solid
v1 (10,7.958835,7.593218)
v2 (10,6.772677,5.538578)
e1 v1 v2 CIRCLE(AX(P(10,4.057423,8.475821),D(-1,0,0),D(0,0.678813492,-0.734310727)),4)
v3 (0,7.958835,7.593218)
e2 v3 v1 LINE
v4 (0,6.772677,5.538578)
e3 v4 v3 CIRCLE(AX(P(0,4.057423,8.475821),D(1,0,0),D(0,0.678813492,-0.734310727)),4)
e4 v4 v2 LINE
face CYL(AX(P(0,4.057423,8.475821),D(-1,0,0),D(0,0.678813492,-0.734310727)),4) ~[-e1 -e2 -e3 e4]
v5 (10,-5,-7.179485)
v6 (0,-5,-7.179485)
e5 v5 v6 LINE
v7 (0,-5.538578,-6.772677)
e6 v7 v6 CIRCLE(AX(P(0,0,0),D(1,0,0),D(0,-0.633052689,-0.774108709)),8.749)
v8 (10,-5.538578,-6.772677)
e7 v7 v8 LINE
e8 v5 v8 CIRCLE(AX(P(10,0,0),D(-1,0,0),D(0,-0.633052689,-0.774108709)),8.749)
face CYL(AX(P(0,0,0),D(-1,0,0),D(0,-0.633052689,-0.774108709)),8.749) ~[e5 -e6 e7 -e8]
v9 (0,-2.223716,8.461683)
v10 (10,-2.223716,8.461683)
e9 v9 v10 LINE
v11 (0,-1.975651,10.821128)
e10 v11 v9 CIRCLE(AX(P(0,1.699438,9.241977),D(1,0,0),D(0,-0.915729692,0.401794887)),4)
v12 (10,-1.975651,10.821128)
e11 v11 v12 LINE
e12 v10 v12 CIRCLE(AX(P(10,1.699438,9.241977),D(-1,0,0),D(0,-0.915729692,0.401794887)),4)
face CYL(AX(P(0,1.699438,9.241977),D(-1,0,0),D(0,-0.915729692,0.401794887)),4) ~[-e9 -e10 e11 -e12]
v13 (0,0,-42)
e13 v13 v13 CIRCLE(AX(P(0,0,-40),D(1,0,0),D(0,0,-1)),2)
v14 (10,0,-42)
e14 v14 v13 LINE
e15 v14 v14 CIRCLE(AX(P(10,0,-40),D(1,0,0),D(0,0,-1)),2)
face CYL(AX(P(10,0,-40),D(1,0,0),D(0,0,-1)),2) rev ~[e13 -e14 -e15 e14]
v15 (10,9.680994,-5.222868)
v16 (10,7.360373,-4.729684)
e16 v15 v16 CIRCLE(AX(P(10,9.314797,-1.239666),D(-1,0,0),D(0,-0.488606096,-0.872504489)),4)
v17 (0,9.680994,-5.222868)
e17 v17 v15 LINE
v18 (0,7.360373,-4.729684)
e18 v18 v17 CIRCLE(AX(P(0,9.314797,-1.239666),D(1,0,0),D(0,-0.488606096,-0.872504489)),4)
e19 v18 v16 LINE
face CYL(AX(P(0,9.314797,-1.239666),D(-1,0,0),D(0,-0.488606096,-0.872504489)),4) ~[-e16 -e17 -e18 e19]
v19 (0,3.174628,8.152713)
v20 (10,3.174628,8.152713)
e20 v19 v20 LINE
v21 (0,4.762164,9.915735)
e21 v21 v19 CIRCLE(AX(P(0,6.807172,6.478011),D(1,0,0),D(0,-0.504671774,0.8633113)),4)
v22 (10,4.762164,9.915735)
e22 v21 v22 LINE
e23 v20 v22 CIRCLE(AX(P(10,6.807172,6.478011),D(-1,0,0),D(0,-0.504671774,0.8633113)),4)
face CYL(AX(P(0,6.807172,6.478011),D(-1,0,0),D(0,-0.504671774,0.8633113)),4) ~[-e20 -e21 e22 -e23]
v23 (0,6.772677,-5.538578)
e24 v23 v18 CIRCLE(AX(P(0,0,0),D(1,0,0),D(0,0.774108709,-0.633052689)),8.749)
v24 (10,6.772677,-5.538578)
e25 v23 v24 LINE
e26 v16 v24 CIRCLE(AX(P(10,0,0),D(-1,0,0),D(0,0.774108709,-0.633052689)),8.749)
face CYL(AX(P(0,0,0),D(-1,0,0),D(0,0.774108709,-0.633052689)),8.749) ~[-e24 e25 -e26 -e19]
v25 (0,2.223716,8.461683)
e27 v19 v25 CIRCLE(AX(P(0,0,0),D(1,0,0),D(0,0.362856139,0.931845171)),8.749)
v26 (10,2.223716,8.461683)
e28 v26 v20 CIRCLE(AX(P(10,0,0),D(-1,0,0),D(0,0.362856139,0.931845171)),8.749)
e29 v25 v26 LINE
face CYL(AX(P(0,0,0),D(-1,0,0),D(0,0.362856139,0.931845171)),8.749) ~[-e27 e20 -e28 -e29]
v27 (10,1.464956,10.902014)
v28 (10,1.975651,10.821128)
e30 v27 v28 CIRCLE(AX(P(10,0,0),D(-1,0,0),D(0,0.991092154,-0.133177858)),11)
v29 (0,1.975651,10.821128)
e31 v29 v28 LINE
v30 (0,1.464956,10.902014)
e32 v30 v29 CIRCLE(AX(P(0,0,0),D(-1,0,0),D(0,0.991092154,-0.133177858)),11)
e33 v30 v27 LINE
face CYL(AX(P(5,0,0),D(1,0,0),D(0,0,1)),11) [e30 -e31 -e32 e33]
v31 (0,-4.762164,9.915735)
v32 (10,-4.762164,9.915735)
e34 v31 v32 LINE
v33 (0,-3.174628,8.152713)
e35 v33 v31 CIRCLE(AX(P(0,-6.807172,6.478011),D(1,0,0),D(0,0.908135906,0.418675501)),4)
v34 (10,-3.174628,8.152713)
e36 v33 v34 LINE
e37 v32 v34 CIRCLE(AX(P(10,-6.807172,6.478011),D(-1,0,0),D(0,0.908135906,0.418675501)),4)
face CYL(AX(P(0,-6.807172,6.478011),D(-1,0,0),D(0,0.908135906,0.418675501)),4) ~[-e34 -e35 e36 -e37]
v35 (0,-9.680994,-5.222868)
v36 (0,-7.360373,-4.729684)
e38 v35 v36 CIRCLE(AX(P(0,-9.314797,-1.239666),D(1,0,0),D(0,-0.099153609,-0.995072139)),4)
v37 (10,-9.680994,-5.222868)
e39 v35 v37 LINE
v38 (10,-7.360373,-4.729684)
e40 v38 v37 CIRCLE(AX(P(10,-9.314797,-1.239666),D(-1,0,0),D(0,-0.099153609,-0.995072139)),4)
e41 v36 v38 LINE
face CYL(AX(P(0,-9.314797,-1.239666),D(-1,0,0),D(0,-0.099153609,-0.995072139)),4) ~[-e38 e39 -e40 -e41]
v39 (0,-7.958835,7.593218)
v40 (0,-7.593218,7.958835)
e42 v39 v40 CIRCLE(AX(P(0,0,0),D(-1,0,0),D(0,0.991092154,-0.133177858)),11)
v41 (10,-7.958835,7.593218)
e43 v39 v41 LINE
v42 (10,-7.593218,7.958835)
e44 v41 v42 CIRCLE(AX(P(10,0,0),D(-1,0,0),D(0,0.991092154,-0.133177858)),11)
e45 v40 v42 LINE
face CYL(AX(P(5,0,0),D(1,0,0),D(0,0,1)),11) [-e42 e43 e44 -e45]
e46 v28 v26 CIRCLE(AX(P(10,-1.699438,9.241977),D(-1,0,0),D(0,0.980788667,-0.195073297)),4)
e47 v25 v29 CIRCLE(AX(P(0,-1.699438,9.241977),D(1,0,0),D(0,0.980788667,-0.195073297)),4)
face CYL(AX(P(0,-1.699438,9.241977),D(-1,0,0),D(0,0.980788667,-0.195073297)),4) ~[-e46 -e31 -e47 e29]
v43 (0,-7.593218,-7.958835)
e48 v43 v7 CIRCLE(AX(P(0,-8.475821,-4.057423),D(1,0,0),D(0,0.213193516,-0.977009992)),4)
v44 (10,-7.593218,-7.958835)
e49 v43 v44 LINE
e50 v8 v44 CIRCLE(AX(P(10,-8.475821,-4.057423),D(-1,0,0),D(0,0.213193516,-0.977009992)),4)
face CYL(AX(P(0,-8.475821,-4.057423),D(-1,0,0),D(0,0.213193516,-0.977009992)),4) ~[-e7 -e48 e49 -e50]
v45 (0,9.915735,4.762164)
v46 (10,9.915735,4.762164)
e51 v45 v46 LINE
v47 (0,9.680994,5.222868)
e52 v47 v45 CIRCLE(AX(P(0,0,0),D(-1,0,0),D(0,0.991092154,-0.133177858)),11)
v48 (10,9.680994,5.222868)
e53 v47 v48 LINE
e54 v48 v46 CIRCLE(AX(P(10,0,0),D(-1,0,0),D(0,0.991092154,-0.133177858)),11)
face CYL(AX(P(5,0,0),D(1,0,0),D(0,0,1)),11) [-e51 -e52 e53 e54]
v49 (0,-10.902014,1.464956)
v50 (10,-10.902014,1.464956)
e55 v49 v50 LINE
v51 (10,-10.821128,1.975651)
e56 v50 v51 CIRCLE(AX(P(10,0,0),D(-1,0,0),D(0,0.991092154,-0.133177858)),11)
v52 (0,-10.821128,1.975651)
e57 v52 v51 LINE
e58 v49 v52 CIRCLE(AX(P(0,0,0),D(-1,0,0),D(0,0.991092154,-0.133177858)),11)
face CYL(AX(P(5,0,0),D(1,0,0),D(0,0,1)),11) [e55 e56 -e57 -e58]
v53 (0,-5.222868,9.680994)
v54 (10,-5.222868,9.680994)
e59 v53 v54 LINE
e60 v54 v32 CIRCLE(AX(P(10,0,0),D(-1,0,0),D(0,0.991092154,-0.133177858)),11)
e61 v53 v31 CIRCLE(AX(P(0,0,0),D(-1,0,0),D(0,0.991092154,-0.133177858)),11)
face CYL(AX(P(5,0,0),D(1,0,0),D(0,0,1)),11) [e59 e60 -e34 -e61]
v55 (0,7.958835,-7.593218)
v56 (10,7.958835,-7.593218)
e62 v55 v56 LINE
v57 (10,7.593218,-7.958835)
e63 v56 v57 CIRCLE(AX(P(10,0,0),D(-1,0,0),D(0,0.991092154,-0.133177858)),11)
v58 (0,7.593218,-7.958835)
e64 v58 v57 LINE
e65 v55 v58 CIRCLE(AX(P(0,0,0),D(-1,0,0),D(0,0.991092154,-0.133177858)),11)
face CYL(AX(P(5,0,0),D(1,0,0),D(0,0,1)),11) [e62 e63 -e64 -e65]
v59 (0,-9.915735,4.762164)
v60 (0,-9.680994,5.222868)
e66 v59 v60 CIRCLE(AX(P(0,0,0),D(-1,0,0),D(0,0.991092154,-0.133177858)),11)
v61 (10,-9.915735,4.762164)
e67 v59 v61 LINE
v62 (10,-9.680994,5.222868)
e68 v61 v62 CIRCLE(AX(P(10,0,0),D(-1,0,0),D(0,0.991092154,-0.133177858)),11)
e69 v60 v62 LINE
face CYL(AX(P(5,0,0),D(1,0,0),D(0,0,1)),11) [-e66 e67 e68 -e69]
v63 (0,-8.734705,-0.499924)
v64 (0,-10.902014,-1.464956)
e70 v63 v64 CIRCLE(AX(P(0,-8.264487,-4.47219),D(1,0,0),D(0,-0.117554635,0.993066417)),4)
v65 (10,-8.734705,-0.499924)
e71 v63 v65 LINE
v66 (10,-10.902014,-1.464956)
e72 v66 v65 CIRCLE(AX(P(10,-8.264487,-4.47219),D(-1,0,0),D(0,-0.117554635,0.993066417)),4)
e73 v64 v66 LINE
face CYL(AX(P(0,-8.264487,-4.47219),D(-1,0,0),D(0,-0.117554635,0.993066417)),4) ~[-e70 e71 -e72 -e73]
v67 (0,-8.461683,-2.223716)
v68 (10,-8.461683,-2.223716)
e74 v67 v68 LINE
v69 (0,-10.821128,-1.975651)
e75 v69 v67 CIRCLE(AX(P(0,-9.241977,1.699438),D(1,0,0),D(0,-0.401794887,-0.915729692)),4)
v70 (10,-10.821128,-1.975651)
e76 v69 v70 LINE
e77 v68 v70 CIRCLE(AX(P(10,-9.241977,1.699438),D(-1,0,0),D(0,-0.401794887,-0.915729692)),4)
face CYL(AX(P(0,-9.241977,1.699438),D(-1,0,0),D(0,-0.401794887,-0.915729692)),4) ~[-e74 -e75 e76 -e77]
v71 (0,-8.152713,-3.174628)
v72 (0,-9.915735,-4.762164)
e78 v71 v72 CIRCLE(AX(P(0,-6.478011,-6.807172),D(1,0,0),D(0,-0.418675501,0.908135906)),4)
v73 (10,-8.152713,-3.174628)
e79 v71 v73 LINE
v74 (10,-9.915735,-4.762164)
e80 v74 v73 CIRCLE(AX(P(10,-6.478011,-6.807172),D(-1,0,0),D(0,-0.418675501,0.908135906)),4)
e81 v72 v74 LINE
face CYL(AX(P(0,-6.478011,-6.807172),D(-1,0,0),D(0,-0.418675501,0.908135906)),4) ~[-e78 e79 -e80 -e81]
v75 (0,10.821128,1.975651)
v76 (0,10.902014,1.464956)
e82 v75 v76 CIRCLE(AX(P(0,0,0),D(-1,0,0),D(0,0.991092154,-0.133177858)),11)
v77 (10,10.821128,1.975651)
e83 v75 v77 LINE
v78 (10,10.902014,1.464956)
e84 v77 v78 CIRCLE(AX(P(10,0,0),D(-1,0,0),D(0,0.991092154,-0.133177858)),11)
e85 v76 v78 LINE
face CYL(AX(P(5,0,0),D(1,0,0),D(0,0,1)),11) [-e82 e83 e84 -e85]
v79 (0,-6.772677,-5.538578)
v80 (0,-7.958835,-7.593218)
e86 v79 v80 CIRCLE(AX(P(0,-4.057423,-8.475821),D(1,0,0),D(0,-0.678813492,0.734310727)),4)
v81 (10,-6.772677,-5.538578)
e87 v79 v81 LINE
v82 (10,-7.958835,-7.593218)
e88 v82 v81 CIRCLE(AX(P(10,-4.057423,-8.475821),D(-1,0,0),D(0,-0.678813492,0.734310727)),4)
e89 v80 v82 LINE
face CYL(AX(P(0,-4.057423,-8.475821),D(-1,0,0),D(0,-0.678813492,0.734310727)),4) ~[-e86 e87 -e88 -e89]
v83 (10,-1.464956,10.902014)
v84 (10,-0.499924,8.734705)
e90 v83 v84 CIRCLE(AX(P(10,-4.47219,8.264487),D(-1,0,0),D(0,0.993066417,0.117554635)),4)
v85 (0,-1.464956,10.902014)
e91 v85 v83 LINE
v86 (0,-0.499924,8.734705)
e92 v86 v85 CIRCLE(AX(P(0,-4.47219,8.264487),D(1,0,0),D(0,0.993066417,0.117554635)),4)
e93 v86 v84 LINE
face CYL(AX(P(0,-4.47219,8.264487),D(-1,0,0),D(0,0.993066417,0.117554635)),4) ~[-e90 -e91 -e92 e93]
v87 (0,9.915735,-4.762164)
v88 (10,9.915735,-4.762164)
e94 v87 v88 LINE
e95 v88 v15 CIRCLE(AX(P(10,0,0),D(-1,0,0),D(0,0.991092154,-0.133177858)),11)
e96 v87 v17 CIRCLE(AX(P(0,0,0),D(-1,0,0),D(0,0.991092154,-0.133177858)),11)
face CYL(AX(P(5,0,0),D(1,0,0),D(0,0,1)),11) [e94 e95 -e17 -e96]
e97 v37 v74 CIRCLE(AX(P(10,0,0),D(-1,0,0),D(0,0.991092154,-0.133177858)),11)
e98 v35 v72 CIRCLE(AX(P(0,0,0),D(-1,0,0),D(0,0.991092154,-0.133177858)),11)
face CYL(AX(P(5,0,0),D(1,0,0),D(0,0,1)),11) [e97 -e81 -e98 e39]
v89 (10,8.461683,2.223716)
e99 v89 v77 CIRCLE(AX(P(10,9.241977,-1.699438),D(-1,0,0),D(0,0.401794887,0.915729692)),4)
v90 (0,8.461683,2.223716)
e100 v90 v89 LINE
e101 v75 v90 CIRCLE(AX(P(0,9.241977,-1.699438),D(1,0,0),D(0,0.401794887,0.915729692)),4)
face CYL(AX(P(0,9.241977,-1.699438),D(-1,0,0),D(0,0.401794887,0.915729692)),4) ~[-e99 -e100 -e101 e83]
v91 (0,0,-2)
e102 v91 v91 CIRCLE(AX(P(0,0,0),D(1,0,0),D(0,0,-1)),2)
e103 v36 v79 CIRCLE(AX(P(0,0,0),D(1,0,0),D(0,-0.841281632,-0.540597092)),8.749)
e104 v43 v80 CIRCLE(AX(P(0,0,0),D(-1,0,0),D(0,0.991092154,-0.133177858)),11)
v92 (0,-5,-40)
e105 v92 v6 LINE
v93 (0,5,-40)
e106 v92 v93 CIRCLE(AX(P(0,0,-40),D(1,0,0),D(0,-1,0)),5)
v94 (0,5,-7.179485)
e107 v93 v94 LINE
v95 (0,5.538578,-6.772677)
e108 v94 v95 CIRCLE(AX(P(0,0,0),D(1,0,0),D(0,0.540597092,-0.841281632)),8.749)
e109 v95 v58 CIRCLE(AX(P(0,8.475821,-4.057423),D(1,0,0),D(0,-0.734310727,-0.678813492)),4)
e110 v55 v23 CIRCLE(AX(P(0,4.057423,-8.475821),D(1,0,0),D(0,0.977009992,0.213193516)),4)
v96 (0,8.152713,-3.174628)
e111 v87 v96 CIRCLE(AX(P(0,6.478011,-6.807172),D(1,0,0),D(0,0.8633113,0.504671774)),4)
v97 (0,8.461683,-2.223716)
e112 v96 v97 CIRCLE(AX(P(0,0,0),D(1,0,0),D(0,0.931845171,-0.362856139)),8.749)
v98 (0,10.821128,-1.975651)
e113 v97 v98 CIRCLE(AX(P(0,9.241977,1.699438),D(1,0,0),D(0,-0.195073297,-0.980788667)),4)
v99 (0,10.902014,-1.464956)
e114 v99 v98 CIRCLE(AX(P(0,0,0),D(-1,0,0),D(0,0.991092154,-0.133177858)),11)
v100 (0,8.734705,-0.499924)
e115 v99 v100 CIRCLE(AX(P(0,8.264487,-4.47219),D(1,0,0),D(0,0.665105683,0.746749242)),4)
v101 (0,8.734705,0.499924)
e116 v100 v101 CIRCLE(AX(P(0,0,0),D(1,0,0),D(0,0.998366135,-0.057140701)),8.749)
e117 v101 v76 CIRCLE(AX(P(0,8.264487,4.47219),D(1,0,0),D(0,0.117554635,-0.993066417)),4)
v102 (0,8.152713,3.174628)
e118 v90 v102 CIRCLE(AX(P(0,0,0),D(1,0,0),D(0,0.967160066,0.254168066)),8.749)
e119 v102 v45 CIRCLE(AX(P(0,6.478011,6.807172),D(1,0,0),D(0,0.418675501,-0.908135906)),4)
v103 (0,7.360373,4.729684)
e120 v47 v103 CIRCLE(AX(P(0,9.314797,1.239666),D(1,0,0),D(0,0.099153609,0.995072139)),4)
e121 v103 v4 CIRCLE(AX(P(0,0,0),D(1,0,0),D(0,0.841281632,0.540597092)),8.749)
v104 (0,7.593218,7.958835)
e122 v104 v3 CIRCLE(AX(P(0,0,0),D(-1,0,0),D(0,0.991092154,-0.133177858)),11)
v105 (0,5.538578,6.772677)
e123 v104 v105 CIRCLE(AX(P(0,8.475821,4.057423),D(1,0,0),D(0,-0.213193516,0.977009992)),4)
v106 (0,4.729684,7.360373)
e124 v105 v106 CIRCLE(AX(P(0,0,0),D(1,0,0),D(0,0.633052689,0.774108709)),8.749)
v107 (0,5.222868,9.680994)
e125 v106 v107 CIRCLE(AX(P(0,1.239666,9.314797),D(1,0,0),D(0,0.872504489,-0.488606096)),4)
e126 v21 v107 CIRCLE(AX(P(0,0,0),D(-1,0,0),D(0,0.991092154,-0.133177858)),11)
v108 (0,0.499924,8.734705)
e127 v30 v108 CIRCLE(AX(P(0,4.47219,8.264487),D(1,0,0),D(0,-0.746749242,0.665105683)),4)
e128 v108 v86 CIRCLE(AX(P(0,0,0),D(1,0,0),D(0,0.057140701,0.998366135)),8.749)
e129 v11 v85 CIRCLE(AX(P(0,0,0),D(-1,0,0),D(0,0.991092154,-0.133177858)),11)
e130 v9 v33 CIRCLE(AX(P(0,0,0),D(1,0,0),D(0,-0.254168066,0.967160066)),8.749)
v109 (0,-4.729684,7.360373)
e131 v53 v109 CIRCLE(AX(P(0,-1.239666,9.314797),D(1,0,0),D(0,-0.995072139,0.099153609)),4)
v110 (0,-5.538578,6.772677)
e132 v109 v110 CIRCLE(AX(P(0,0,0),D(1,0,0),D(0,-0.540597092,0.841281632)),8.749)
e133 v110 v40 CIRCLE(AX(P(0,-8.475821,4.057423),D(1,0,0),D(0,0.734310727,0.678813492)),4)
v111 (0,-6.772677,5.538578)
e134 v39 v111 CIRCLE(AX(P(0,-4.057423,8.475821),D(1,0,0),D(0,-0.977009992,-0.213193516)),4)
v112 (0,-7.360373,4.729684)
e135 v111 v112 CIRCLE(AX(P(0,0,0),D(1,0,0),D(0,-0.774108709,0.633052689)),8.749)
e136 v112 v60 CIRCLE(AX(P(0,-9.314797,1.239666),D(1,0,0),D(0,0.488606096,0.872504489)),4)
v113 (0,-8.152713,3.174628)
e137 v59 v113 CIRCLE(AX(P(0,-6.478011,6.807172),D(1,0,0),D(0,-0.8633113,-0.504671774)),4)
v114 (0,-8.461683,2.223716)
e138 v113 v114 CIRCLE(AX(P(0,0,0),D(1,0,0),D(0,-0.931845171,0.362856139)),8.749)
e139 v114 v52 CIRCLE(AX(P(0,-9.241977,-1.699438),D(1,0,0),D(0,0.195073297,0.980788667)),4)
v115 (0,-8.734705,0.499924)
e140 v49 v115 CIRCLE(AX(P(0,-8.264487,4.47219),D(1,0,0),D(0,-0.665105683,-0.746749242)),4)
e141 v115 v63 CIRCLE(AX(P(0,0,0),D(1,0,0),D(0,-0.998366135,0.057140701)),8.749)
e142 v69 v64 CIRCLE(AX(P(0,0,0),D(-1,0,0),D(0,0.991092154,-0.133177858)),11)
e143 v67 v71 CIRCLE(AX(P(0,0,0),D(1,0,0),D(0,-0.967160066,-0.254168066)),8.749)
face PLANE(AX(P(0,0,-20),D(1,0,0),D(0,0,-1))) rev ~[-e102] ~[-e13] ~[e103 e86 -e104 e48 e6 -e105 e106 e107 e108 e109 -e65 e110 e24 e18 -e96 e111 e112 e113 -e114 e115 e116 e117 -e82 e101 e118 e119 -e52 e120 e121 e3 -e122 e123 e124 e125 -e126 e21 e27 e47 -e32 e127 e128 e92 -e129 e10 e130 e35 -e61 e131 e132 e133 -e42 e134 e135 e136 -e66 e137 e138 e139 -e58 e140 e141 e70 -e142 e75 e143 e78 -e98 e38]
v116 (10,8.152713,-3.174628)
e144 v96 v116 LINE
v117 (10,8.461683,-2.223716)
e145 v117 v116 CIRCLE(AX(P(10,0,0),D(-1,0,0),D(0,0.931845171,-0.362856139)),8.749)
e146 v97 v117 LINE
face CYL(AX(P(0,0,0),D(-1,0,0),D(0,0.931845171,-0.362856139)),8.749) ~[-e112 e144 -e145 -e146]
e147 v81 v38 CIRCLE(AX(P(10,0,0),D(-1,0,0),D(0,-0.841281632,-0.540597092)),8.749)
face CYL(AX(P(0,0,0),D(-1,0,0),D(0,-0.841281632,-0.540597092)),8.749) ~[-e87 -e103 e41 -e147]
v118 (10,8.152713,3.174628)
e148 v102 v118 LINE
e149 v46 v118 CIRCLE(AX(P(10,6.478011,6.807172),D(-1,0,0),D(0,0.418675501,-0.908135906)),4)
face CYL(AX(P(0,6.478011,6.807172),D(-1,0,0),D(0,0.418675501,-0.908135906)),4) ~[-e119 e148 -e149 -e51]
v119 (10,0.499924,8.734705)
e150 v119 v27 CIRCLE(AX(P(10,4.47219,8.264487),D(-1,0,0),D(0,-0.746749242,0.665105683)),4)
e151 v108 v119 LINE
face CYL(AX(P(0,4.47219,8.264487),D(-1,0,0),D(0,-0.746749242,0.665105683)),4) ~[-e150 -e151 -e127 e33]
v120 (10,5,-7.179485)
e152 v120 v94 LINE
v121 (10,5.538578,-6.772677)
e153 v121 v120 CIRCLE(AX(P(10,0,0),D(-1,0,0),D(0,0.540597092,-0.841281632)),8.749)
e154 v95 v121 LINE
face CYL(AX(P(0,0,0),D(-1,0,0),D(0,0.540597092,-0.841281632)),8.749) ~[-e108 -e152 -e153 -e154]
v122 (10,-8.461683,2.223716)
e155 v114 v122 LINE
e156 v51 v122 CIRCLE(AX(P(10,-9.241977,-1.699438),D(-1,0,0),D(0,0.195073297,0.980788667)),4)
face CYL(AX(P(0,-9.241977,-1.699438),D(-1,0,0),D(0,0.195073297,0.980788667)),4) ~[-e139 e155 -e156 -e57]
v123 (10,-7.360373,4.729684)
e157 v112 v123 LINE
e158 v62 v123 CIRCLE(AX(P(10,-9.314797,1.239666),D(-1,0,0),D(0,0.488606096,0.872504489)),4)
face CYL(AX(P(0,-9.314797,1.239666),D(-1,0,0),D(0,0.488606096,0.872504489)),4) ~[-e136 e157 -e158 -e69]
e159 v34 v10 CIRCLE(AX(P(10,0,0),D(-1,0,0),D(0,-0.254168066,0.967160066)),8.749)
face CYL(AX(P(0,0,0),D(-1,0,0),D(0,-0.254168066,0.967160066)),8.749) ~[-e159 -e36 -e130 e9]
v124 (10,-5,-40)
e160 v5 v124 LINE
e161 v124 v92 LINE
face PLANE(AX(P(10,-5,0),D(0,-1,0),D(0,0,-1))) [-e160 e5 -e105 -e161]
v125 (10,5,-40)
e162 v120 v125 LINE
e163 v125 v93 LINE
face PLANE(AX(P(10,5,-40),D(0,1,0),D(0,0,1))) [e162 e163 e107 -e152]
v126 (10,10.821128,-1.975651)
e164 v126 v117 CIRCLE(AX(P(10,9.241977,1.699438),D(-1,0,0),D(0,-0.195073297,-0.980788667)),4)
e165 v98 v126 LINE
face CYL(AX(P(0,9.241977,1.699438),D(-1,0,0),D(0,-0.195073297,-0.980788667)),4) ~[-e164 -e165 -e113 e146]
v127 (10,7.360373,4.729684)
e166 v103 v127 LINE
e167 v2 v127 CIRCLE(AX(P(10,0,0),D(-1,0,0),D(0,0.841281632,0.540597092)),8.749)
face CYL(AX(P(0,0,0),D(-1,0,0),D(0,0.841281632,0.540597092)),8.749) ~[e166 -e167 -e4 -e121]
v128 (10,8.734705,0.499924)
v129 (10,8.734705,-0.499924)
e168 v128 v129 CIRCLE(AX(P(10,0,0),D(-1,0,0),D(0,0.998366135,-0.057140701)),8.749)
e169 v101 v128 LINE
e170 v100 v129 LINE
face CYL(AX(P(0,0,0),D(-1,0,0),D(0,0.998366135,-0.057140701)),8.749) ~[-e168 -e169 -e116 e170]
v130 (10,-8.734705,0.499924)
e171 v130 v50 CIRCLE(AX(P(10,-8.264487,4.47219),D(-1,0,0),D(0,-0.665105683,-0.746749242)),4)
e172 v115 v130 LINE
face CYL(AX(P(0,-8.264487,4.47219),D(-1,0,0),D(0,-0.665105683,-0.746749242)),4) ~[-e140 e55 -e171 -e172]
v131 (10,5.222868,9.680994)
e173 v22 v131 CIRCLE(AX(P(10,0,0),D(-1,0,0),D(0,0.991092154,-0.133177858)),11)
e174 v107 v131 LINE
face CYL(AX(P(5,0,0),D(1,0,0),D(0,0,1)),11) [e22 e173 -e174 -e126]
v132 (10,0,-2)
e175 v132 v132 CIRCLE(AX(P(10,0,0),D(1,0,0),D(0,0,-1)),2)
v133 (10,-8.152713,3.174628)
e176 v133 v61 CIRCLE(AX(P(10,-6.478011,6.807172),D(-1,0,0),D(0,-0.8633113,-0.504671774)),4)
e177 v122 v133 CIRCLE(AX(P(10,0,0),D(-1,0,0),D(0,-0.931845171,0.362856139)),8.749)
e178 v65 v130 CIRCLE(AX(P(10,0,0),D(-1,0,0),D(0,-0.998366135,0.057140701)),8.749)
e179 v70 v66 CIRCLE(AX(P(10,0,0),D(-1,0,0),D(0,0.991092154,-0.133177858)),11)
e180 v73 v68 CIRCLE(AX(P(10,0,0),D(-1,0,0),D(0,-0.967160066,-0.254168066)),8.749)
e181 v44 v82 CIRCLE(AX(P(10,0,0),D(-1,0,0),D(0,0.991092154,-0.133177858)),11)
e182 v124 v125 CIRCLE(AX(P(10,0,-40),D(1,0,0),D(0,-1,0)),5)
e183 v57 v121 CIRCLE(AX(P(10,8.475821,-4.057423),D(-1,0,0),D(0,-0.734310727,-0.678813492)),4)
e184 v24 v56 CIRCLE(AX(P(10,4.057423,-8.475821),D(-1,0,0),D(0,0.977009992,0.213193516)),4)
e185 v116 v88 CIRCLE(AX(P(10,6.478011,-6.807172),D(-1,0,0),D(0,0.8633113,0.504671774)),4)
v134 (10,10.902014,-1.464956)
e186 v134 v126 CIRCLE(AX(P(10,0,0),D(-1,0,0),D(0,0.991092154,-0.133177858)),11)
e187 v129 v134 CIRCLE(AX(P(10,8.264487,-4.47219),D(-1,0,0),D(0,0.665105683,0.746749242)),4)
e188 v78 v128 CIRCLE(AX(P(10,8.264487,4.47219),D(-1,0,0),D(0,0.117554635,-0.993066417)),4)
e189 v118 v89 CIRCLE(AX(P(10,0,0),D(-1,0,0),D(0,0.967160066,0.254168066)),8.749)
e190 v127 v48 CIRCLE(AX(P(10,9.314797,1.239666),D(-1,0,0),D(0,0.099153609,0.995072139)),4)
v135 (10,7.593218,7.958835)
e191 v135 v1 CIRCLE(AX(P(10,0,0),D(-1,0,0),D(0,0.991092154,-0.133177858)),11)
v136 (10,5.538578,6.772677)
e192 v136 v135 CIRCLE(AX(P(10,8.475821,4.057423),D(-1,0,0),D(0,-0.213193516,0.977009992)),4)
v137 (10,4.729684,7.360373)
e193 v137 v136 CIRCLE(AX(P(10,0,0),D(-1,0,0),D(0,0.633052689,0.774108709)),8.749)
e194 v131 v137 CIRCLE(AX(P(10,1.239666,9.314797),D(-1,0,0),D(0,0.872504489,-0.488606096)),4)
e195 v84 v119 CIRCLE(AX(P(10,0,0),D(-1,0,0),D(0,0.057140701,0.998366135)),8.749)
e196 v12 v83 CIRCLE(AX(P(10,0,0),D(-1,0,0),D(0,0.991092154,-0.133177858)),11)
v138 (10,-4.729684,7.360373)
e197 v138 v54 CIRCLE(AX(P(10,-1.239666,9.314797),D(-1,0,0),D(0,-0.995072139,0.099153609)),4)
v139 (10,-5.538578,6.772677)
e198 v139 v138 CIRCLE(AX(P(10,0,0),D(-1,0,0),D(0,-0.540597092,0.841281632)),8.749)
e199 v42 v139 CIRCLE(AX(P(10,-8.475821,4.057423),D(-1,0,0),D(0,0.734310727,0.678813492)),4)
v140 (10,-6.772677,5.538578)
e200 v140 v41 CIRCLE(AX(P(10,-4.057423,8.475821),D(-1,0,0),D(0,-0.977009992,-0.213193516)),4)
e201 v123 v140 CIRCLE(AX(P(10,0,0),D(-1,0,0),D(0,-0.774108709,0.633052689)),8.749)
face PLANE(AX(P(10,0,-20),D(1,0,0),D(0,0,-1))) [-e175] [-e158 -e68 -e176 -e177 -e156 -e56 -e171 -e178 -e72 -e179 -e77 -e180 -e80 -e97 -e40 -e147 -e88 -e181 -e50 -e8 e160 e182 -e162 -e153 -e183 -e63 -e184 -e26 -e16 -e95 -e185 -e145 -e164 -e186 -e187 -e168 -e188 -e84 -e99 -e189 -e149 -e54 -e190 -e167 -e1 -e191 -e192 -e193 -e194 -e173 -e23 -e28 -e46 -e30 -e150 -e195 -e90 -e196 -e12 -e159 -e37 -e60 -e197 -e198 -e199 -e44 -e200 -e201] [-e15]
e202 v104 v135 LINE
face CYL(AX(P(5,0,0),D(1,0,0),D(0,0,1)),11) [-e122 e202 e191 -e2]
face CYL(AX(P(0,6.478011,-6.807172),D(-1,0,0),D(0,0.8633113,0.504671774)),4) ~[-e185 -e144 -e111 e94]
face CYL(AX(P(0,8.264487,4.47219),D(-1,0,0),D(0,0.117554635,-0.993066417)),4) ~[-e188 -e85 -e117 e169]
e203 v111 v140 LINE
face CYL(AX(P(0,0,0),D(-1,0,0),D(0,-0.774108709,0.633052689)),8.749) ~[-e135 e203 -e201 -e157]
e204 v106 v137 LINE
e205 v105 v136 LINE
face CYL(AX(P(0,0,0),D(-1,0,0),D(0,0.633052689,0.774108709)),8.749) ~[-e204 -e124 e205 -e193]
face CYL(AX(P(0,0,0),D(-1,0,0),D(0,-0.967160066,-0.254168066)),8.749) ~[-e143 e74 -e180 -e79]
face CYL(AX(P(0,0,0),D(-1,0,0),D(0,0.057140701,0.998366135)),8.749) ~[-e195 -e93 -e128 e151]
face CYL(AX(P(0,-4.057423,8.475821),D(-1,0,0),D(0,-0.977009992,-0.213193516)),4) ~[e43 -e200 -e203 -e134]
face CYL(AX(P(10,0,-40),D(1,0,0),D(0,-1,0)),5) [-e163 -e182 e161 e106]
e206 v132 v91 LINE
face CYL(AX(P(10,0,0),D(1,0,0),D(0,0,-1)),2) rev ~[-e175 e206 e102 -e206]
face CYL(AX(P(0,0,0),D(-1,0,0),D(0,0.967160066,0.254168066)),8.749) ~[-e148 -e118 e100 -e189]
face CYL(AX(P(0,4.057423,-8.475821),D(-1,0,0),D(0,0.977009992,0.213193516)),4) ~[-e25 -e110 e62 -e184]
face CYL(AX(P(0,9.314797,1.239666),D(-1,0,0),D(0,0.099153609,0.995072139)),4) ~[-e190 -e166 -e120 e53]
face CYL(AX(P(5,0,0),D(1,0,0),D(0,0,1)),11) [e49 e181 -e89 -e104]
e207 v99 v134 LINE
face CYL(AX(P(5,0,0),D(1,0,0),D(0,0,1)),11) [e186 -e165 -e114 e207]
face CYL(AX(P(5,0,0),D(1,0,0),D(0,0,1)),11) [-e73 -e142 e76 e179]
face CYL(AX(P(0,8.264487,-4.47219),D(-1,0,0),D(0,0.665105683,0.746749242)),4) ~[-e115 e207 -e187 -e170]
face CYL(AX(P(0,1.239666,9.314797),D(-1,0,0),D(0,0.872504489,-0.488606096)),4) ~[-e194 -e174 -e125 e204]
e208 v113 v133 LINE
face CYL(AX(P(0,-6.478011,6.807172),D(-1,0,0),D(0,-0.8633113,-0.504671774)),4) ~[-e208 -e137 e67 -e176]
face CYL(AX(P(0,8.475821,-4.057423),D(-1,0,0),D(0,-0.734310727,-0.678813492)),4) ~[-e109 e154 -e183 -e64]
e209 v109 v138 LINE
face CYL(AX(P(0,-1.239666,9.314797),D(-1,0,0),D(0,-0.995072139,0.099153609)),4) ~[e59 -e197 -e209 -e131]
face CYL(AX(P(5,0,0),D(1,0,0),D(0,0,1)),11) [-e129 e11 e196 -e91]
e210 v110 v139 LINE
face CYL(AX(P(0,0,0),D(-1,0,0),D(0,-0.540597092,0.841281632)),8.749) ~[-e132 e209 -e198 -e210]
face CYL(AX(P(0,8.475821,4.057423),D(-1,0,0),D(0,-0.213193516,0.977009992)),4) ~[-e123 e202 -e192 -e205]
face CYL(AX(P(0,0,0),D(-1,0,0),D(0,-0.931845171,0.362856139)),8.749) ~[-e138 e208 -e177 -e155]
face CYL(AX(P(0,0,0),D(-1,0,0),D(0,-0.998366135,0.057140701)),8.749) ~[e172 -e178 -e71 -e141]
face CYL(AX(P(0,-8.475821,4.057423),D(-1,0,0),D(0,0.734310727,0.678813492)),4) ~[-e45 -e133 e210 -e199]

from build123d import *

# Parameters (mm, degrees)
BASPROSKE_W             = 10
BASPROSKE_H             = 11
TOOTHCUT_DEPTH          = 19.493242009
TEETHCUTS_COUNT         = 20
TEETHCUTS_ANGLE         = 342
BORSKE_R                = 0.4
BORE_DEPTH              = 50.0000508
CROQUIS1_R              = 2
SALIENTE_EXTRUIR1_DEPTH = 10
CROQUIS2_R              = 2
CORTAR_EXTRUIR1_DEPTH   = 10
CORTAR_EXTRUIR2_DEPTH   = 10


with BuildPart() as part:
    # BasProSke → Base-Revolve (revolve)
    with BuildSketch(Plane(origin=(0, 0, 0), x_dir=(1, 0, 0), z_dir=(0, 1, 0)), mode=Mode.PRIVATE) as base_revolve_sk:
        with Locations((5, 5.5)):
            Rectangle(BASPROSKE_W, BASPROSKE_H)
    revolve(base_revolve_sk.sketch.rotate(Axis((-10, 0, 0), (1, 0, 0)), 180), axis=Axis((-10, 0, 0), (1, 0, 0)))

    # TooCutSke → ToothCut (cut, through all)
    with BuildSketch(Plane(origin=(0, 0, 0), x_dir=(0, 0, -1), z_dir=(1, 0, 0))):
        with BuildLine():
            ThreePointArc((0.499924007, 8.734705318), (0, 8.749), (-0.499924007, 8.734705318))
            ThreePointArc((-0.499924007, 8.734705318), (-0.824302243, 9.905497836), (-1.485192705, 10.924909509))
            ThreePointArc((-1.485192705, 10.924909509), (0, 11.0254), (1.485192705, 10.924909509))
            ThreePointArc((1.485192705, 10.924909509), (0.824302243, 9.905497836), (0.499924007, 8.734705318))
        make_face()
    toothcut = extrude(amount=TOOTHCUT_DEPTH, mode=Mode.SUBTRACT)

    # TeethCuts: ToothCut ×20 about axis
    teethcuts_axis = Axis((-10, 0, 0), (1, 0, 0))
    for i in range(1, TEETHCUTS_COUNT):
        add(toothcut.rotate(teethcuts_axis, i * TEETHCUTS_ANGLE / (TEETHCUTS_COUNT - 1)), mode=Mode.SUBTRACT)

    # BorSke → Bore (cut, symmetric)
    with BuildSketch(Plane(origin=(0, 0, 0), x_dir=(0, 0, -1), z_dir=(1, 0, 0))):
        with Locations(Location((0, 0, 0), (0, 0, 180))):
            Circle(BORSKE_R)
    extrude(amount=BORE_DEPTH, both=True, mode=Mode.SUBTRACT)

    # Croquis1 → Saliente-Extruir1 (add)
    with BuildSketch(Plane(origin=(10, 0, 0), x_dir=(0, 0, -1), z_dir=(1, 0, 0))):
        with BuildLine():
            Line((40, 5), (0, 5))
            ThreePointArc((0, 5), (-5, 0), (0, -5))
            Line((0, -5), (40, -5))
            ThreePointArc((40, -5), (45, 0), (40, 5))
        make_face()
        Circle(CROQUIS1_R, mode=Mode.SUBTRACT)
        with Locations((40, 0)):
            Circle(CROQUIS1_R, mode=Mode.SUBTRACT)
    extrude(amount=-SALIENTE_EXTRUIR1_DEPTH)

    # Croquis2 → Cortar-Extruir1 (cut)
    with BuildSketch(Plane(origin=(10, 0, 0), x_dir=(0, 0, -1), z_dir=(1, 0, 0))):
        Circle(CROQUIS2_R)
    extrude(amount=-CORTAR_EXTRUIR1_DEPTH, mode=Mode.SUBTRACT)

    # Croquis3 → Cortar-Extruir2 (cut)
    with BuildSketch(Plane(origin=(10, 0, 0), x_dir=(0, 0, -1), z_dir=(1, 0, 0))):
        with BuildLine():
            Line((6.772677084, 5.538577987), (8.515195785, 6.963579593))
            ThreePointArc((8.515195785, 6.963579593), (9.209061868, 6.016076754), (9.797958971, 5))
            Line((9.797958971, 5), (7.179484731, 5))
            ThreePointArc((7.179484731, 5), (6.981276487, 5.273213405), (6.772677084, 5.538577987))
        make_face()
        with BuildLine():
            Line((6.772677084, -5.538577987), (8.515195785, -6.963579593))
            ThreePointArc((8.515195785, -6.963579593), (9.209061868, -6.016076754), (9.797958971, -5))
            Line((9.797958971, -5), (7.179484731, -5))
            ThreePointArc((7.179484731, -5), (6.981276487, -5.273213405), (6.772677084, -5.538577987))
        make_face()
    extrude(amount=-CORTAR_EXTRUIR2_DEPTH, mode=Mode.SUBTRACT)


solid = part.part
